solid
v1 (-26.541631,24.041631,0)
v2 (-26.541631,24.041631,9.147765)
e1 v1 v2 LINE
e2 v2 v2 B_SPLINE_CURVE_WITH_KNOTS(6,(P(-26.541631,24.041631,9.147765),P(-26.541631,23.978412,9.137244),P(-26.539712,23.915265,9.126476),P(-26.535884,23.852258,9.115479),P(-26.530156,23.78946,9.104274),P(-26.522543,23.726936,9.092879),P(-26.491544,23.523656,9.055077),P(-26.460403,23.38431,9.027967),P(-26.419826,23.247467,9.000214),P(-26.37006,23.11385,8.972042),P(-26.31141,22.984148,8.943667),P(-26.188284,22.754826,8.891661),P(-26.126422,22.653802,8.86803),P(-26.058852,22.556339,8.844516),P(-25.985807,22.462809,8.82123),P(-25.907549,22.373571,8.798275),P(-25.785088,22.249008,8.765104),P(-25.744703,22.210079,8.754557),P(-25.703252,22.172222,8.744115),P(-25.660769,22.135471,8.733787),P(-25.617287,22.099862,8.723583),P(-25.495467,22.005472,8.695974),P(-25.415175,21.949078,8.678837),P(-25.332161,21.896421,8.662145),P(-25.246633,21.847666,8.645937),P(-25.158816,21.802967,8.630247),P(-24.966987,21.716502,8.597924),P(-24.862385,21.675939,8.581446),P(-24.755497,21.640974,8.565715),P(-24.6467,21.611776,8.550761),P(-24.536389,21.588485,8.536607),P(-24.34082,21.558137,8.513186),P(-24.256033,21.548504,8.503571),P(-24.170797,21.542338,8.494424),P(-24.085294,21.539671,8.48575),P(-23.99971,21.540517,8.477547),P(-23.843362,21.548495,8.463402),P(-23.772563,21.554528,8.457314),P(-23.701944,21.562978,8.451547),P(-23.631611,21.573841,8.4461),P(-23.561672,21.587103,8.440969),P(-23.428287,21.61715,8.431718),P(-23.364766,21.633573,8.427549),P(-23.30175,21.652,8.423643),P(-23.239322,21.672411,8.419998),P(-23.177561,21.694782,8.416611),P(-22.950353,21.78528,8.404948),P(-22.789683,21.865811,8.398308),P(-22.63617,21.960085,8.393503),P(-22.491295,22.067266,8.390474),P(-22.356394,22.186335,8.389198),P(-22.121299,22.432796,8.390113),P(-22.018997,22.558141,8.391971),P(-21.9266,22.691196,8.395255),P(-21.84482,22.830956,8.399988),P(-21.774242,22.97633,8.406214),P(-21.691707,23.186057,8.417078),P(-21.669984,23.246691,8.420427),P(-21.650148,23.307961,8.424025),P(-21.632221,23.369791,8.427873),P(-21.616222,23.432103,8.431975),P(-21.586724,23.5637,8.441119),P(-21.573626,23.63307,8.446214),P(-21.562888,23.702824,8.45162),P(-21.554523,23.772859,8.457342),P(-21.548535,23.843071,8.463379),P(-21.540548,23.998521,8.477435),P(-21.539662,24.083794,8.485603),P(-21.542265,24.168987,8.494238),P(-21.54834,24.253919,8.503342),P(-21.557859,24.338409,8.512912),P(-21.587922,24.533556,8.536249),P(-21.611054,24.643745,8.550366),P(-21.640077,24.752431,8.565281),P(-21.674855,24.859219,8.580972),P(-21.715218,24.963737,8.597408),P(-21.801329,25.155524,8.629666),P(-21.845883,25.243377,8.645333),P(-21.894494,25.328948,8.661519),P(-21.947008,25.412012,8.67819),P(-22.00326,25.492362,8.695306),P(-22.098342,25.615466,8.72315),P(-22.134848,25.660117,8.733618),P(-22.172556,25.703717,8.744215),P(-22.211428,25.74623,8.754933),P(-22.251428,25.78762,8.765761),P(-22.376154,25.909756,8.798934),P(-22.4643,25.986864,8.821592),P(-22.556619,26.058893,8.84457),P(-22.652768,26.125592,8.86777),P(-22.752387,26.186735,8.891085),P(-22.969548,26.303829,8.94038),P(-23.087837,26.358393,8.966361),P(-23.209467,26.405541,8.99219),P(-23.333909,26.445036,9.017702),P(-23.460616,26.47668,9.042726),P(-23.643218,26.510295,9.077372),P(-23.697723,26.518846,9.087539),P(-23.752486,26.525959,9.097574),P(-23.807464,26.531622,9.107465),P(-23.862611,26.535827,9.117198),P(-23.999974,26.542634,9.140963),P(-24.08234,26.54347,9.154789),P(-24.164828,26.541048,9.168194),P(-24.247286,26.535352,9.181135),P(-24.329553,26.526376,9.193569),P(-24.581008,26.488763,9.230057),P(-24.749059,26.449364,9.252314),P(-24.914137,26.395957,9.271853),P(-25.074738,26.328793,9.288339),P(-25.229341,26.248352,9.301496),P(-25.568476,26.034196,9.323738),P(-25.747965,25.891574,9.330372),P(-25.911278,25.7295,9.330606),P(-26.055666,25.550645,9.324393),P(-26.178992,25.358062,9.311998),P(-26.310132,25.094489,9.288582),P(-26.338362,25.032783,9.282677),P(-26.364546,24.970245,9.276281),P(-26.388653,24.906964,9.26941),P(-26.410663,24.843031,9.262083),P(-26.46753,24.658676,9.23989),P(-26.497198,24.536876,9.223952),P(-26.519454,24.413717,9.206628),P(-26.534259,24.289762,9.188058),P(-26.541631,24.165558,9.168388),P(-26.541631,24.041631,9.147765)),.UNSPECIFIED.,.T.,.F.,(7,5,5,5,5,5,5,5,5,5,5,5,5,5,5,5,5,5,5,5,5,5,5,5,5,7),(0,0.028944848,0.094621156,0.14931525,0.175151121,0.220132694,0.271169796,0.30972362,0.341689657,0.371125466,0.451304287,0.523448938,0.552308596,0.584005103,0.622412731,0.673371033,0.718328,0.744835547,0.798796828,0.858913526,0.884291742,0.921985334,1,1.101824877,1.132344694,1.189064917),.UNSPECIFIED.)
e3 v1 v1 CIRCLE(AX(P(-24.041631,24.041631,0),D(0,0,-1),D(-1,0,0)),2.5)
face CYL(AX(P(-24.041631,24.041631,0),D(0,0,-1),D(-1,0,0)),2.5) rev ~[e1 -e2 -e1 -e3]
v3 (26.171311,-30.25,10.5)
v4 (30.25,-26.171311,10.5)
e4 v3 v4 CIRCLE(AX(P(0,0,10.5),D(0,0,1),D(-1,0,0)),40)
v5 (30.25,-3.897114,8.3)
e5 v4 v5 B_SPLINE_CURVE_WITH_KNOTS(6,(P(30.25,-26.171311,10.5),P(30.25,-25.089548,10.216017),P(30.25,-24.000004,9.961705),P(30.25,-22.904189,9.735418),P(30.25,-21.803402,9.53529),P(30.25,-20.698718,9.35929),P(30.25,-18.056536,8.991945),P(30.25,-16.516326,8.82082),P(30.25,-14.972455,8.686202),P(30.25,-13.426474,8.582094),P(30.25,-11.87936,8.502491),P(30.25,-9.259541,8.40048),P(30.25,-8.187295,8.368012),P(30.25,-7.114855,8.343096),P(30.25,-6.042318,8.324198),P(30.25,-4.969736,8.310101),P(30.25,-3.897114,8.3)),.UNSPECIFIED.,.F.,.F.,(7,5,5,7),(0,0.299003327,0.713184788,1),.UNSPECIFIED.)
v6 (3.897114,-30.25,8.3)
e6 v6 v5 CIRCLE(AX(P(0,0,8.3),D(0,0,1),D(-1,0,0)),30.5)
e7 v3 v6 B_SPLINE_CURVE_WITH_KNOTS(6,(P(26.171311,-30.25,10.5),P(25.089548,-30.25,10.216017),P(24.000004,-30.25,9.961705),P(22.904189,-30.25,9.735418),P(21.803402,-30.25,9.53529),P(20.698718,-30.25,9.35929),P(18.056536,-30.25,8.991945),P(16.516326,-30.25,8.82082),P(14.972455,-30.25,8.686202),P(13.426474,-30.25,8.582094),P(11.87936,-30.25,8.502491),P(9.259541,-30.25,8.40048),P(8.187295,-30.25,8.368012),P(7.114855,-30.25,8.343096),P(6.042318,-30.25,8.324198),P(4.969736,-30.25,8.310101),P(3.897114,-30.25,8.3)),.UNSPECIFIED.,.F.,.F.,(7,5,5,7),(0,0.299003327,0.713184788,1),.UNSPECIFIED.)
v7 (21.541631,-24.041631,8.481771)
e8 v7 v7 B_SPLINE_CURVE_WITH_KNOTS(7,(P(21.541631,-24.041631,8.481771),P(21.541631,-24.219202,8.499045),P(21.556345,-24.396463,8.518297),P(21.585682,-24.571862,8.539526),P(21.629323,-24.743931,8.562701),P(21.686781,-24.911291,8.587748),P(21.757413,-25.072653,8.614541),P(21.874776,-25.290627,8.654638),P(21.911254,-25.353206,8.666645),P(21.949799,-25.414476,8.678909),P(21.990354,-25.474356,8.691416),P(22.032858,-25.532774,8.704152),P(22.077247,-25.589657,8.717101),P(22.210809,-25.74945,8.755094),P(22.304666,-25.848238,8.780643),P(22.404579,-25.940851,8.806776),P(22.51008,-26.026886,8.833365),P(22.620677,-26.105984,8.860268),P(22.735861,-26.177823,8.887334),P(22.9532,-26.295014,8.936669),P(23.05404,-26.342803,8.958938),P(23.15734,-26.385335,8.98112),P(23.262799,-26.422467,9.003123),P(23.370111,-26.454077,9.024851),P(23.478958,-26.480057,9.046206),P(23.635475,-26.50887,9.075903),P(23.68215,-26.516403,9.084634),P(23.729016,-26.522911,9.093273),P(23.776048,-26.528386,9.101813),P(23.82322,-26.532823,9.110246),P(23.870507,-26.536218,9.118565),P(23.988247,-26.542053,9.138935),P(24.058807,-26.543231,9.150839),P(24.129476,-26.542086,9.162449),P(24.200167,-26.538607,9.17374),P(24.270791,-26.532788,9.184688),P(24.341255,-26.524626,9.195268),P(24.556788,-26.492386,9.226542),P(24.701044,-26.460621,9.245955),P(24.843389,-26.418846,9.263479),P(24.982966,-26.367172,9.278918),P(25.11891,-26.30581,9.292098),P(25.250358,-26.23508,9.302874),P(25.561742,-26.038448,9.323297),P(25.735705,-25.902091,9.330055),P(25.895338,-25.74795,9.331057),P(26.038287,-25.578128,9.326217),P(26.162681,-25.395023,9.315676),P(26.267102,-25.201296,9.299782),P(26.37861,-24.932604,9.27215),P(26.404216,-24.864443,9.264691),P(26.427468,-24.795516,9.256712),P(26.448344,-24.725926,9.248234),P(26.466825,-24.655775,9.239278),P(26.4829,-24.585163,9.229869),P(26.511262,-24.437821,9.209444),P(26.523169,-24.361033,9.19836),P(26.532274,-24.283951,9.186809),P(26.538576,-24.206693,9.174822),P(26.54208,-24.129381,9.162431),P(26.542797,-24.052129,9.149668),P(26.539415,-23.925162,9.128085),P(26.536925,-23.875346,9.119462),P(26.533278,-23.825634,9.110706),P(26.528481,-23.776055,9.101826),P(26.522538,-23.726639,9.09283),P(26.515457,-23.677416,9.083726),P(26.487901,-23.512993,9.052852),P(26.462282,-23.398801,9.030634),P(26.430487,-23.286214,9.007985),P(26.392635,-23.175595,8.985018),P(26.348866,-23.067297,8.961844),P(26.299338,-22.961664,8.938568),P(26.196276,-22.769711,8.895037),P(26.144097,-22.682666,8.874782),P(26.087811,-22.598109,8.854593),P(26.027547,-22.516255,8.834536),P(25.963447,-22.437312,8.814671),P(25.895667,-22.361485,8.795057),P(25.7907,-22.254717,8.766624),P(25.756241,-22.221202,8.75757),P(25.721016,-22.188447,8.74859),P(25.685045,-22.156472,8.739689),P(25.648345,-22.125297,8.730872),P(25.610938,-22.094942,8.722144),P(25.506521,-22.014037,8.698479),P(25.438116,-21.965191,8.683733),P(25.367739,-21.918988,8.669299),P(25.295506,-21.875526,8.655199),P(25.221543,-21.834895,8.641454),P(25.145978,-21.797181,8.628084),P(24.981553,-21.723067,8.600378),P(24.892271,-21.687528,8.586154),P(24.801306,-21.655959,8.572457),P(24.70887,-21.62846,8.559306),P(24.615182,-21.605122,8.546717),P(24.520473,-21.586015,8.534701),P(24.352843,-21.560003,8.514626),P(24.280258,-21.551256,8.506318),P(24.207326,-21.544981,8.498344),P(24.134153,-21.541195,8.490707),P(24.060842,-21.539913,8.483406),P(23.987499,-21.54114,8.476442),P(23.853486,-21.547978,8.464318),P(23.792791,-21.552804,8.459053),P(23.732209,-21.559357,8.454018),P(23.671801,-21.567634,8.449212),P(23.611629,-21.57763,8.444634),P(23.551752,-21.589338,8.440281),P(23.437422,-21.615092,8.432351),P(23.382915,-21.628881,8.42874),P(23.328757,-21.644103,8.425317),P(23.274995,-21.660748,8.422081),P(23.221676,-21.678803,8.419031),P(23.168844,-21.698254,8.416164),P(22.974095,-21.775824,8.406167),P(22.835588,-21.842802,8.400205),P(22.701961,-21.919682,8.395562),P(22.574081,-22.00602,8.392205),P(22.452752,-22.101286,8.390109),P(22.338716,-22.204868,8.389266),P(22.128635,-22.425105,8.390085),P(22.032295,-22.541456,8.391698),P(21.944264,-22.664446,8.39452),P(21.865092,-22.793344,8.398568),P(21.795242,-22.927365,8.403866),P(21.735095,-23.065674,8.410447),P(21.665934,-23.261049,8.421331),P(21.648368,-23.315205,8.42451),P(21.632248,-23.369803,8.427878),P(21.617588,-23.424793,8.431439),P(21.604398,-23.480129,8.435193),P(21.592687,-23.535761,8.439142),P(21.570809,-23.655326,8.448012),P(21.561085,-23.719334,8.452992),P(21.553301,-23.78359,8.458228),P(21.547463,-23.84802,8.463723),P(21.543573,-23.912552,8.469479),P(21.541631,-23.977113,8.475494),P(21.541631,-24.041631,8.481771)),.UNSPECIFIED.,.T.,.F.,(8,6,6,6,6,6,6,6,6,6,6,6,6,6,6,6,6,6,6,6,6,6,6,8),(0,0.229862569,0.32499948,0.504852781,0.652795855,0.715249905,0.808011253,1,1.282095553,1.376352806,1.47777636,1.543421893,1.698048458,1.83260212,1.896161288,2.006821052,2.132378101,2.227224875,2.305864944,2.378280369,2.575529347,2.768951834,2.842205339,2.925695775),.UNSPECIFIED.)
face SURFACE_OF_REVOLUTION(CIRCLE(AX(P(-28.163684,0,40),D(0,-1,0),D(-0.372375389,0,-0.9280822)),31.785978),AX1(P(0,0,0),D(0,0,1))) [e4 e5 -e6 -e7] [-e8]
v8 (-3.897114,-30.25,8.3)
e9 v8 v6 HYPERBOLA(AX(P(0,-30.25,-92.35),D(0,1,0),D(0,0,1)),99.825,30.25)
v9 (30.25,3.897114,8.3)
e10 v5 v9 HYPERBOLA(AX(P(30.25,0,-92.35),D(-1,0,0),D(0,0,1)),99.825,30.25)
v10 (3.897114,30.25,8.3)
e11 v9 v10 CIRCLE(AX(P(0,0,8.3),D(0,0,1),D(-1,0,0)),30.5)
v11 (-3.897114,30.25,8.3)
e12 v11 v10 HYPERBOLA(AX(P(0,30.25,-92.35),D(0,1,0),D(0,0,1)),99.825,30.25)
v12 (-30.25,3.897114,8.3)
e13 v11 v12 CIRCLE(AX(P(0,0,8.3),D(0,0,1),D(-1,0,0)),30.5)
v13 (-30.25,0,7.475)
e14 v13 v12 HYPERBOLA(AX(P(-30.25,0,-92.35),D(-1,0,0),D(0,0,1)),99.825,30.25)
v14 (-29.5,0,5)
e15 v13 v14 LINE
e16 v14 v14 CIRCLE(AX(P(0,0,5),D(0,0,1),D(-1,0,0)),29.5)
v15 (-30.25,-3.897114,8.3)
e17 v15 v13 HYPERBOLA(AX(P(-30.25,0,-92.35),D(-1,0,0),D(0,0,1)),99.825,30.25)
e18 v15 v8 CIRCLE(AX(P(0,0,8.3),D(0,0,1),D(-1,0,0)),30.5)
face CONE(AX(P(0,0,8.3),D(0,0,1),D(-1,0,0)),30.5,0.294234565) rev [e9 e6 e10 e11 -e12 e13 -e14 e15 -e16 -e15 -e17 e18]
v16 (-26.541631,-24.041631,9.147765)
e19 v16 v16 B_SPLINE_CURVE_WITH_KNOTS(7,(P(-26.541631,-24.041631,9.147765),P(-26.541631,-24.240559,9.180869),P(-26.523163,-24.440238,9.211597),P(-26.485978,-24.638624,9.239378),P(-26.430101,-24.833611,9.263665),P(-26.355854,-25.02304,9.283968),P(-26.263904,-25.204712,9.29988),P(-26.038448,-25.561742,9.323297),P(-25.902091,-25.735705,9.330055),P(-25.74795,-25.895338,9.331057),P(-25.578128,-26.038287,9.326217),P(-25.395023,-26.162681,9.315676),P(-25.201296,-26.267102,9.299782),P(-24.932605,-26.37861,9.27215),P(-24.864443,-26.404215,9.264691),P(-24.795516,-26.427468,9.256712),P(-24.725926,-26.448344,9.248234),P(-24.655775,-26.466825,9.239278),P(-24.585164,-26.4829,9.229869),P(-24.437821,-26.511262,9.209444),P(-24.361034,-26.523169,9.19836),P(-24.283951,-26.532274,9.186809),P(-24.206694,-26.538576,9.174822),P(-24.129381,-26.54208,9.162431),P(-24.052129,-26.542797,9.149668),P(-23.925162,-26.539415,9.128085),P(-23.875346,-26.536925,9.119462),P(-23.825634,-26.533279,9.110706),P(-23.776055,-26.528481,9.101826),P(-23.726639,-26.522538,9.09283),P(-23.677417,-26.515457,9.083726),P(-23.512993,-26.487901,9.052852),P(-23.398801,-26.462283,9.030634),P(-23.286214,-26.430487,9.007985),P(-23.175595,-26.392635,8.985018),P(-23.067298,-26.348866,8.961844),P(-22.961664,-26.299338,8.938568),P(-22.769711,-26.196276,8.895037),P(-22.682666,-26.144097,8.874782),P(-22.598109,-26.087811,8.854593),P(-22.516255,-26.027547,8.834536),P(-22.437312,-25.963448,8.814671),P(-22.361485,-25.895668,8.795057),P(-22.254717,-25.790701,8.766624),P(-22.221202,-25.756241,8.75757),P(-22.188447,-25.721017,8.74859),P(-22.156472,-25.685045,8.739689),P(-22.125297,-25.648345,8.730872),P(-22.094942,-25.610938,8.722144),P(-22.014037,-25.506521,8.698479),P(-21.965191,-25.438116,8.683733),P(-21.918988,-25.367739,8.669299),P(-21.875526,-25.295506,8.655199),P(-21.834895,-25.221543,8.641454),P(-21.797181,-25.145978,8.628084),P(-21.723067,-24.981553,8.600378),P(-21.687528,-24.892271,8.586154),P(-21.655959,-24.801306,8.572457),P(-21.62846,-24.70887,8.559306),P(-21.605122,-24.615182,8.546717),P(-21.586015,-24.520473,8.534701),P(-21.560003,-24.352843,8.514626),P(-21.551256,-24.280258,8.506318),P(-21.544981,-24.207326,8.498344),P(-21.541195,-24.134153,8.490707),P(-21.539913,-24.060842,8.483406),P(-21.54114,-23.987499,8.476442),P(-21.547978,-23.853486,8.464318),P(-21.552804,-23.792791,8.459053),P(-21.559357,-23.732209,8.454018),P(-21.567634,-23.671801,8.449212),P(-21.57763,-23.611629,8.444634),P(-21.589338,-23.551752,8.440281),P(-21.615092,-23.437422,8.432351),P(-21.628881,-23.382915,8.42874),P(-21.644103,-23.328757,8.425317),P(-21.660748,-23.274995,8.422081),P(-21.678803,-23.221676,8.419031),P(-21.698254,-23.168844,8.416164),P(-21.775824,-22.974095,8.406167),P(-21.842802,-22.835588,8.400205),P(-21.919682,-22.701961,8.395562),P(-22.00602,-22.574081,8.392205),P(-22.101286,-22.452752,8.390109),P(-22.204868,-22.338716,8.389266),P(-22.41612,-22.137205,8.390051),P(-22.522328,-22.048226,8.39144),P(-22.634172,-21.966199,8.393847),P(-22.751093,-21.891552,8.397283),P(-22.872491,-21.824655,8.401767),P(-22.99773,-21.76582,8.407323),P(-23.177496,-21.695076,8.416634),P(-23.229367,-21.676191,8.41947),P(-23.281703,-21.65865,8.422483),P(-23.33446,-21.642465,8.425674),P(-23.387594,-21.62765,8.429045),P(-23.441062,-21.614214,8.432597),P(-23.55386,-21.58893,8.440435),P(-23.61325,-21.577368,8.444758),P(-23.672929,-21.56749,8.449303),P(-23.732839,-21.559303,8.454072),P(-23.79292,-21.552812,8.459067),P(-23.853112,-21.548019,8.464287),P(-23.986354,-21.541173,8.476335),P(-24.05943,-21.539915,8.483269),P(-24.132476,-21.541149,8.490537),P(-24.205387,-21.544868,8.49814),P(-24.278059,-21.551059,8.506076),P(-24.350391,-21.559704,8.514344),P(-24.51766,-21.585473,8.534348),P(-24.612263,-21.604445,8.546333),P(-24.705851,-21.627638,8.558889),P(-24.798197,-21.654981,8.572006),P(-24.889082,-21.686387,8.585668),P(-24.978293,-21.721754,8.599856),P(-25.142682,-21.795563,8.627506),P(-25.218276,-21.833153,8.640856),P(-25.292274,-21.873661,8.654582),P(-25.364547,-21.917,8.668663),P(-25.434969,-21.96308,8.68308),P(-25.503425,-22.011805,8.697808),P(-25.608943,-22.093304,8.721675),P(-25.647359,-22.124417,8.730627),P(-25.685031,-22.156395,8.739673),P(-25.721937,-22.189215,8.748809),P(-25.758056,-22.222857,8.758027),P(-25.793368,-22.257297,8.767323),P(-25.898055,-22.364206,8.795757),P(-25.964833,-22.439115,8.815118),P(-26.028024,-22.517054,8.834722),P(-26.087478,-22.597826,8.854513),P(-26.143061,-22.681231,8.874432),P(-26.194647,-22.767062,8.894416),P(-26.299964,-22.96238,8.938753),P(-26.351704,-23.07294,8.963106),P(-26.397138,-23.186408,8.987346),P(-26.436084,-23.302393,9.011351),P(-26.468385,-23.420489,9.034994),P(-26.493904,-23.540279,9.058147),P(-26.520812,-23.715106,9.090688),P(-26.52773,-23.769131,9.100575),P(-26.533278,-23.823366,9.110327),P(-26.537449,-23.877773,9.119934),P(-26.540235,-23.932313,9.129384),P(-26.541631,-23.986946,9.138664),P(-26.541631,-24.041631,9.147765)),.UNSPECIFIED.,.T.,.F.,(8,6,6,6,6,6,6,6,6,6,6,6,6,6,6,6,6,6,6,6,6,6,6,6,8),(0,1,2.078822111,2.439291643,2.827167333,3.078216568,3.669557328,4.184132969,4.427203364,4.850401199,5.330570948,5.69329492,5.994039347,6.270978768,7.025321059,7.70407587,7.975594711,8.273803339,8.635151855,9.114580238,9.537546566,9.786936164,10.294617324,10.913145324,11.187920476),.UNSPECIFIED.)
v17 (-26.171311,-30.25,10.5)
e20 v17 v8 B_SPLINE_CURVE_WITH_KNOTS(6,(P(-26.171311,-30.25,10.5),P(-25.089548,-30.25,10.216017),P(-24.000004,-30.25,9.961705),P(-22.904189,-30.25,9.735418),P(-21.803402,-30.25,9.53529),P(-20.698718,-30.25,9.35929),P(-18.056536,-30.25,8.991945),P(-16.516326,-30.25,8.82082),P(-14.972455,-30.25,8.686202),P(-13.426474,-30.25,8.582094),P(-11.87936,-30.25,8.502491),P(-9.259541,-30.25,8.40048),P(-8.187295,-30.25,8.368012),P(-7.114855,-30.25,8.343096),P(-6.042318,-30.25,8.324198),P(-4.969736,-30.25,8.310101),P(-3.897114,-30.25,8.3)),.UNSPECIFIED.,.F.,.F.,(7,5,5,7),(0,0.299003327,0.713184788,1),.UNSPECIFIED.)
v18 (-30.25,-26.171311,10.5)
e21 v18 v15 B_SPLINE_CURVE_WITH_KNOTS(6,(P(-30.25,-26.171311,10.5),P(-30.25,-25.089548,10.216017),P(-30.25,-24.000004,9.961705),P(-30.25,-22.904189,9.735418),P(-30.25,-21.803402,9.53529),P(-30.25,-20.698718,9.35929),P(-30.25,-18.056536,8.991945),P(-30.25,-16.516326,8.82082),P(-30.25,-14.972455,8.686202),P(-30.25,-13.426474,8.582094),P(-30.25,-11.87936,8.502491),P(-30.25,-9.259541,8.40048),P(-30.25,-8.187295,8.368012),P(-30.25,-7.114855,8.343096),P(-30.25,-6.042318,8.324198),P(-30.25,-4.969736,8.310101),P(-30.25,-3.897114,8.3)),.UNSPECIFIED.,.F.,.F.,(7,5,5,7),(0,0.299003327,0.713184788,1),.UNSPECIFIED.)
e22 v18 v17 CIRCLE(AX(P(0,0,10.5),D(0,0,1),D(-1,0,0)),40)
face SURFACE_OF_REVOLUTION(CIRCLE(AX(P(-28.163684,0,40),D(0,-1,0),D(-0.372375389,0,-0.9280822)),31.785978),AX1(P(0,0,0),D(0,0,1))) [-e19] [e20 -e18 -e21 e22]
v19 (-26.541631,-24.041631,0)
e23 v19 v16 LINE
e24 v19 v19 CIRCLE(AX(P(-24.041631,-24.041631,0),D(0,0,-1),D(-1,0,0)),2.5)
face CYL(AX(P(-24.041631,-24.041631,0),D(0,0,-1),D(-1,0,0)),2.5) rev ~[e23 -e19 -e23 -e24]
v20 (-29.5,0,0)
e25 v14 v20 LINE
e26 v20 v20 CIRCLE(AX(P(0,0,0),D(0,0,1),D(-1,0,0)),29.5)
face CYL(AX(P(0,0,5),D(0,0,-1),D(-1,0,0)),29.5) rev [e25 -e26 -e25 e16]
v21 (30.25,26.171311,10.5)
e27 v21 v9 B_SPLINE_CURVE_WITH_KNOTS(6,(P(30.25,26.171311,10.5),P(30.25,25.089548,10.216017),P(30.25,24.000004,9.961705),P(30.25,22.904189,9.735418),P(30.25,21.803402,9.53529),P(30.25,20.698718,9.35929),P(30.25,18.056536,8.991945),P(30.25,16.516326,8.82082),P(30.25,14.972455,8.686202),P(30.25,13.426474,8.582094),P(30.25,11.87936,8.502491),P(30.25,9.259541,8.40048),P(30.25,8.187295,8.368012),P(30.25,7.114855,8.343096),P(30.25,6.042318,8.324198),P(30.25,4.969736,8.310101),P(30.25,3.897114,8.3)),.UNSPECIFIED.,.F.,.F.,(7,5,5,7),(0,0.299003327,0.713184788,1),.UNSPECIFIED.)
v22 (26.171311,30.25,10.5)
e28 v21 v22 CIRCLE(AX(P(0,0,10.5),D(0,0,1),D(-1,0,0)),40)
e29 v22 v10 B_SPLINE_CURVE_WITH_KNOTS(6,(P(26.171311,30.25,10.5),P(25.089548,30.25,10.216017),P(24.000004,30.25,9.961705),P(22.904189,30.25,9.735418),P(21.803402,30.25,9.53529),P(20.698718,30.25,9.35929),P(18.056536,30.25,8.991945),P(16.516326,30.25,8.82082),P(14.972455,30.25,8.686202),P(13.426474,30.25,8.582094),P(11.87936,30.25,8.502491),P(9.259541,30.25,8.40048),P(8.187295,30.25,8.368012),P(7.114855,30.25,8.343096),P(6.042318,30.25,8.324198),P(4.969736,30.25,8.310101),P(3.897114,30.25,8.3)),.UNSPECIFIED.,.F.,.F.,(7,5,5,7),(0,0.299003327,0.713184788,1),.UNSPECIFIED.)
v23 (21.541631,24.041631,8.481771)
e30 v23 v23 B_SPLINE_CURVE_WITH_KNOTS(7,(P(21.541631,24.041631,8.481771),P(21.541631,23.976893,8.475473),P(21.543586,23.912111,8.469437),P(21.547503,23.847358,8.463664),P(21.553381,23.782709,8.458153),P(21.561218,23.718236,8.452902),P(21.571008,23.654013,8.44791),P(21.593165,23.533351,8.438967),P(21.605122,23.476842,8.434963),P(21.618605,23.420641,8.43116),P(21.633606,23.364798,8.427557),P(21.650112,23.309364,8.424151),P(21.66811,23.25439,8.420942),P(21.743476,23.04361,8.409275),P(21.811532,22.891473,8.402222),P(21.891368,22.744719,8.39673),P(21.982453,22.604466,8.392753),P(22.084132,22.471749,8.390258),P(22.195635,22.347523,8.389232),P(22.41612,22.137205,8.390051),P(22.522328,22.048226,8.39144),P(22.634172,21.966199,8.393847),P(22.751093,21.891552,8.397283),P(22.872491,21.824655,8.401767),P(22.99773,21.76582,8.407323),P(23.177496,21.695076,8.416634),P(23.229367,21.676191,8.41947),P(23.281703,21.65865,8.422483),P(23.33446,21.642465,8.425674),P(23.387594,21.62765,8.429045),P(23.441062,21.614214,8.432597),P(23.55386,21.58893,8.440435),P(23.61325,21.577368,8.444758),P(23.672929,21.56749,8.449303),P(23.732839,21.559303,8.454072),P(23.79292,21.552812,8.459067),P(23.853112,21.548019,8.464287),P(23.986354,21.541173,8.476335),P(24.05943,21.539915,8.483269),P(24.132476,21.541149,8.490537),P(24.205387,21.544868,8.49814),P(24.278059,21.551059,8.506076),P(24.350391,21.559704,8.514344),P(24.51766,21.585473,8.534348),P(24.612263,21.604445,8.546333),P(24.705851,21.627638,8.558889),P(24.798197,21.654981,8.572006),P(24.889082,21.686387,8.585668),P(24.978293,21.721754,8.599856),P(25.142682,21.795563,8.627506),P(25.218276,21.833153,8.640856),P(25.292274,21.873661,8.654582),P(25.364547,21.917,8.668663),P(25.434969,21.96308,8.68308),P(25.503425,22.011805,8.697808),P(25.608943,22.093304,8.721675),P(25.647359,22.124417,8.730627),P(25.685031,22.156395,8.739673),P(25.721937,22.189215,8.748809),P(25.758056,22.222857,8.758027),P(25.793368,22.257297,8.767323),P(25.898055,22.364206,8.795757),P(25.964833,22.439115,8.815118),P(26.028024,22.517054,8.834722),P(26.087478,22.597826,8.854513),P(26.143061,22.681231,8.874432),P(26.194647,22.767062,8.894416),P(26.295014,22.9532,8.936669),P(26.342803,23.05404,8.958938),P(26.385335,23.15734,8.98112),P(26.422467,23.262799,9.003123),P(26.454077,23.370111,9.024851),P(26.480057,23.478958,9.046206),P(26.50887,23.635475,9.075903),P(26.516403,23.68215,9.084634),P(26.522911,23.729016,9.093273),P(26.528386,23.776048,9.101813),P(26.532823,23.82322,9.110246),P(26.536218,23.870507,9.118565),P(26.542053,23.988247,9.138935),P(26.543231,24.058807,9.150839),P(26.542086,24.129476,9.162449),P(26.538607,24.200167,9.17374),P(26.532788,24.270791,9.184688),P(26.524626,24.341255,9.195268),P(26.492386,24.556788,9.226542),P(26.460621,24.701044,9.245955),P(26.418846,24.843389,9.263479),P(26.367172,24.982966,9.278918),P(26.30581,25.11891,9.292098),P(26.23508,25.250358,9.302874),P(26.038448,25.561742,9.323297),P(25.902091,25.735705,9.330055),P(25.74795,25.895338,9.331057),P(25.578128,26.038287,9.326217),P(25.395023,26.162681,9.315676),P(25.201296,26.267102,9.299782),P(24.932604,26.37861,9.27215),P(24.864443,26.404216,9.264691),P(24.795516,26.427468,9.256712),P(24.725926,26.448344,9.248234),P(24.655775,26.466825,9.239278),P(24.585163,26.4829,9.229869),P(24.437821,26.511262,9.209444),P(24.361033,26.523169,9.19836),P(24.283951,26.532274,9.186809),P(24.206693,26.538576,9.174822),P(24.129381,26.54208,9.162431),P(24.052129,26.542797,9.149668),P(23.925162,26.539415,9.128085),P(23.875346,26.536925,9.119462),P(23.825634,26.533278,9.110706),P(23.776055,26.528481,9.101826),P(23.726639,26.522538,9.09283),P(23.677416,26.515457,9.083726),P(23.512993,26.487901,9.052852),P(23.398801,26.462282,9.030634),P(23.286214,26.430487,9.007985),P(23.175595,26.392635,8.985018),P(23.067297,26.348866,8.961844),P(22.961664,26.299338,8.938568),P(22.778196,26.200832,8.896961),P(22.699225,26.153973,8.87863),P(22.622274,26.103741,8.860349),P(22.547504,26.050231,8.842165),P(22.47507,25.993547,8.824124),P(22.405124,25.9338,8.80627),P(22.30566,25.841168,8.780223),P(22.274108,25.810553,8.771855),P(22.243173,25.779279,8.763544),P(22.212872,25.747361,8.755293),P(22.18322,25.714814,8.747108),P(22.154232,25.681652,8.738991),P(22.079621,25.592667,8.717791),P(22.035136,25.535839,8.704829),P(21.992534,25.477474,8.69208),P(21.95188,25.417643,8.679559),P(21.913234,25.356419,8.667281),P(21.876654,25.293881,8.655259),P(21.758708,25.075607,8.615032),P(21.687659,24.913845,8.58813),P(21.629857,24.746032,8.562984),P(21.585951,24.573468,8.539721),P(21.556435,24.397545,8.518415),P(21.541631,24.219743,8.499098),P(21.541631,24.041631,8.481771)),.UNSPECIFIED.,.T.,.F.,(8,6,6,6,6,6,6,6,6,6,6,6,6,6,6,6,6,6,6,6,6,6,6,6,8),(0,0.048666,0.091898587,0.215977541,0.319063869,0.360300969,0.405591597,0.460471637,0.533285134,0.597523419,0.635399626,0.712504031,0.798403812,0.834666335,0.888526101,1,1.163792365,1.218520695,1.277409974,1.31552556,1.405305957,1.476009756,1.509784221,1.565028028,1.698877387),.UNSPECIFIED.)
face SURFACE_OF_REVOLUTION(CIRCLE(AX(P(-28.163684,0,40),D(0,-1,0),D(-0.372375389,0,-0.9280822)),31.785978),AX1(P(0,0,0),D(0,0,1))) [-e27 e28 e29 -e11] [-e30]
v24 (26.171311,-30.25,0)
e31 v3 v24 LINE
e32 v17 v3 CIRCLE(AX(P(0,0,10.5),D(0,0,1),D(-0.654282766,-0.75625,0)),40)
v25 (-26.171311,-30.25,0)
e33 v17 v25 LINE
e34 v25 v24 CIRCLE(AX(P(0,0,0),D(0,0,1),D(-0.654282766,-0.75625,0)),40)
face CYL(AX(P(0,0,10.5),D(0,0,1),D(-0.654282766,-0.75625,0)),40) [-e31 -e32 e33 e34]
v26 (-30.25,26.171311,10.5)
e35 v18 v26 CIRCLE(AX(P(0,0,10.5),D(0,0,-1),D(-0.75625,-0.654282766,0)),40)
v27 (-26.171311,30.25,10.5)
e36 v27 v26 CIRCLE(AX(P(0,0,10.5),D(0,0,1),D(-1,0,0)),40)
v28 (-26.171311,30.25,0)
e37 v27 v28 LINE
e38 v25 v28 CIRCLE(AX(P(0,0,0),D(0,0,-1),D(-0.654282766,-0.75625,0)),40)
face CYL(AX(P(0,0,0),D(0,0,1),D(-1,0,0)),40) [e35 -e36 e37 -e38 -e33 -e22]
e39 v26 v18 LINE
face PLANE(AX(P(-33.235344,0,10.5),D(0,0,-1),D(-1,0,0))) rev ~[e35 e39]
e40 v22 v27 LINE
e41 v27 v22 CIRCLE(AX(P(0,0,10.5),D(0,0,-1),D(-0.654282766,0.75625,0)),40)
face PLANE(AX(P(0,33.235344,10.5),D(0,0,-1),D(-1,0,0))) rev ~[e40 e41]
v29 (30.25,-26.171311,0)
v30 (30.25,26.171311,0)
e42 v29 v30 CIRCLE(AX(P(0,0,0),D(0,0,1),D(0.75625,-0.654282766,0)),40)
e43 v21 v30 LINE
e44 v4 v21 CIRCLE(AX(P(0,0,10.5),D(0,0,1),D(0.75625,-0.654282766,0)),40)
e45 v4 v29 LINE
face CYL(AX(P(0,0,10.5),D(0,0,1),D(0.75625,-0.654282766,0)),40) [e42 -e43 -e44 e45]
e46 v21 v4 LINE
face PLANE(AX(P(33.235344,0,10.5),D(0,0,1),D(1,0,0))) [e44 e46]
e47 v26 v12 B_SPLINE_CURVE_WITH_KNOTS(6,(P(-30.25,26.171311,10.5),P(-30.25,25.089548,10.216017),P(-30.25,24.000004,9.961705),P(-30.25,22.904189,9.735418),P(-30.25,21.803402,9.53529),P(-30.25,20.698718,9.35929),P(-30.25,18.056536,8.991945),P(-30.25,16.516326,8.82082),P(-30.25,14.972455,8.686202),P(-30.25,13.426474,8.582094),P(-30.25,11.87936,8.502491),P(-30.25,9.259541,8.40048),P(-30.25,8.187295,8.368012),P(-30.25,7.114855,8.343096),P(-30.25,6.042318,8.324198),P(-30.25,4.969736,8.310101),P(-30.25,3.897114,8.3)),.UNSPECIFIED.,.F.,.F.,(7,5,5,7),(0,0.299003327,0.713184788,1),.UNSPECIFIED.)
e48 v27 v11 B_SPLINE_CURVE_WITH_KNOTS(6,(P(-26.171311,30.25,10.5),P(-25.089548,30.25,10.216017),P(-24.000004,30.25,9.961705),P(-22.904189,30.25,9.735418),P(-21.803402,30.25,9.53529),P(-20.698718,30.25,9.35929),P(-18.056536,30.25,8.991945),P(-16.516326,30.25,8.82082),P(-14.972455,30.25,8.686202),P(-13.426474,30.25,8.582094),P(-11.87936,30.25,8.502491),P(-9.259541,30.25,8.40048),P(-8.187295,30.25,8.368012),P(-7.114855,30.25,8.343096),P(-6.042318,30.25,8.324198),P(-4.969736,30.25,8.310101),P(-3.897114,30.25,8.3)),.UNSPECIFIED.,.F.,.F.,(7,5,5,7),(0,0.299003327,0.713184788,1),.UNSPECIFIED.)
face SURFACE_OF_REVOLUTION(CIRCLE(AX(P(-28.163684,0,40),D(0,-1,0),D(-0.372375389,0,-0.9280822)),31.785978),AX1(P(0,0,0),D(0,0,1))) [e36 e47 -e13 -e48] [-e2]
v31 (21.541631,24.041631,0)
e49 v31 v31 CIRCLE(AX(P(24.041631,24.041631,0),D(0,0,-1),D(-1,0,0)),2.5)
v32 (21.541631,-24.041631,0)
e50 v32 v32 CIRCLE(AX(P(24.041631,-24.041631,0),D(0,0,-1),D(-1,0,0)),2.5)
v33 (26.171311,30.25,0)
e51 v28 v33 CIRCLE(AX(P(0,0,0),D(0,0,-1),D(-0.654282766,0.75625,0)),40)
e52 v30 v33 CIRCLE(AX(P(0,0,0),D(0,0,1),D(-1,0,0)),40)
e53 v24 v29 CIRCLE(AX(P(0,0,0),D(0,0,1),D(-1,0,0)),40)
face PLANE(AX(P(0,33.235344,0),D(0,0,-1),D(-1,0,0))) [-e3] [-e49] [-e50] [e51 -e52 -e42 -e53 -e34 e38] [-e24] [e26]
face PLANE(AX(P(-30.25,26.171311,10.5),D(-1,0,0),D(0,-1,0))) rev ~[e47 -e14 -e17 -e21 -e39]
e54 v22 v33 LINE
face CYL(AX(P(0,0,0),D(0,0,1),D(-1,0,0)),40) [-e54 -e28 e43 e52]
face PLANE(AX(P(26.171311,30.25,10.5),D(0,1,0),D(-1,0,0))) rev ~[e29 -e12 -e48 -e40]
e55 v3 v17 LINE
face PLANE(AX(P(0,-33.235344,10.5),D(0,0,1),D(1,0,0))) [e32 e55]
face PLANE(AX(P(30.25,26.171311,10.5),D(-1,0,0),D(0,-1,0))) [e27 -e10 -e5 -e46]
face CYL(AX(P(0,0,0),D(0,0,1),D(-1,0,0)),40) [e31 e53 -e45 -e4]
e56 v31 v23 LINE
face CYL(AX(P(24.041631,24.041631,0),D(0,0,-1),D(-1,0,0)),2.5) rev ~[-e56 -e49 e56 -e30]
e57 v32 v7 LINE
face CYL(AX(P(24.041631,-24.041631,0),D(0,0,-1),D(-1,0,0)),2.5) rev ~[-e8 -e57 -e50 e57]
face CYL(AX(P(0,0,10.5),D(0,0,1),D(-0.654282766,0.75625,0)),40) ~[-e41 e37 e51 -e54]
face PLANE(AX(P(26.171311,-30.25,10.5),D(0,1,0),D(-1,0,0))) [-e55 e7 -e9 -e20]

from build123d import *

# Parameters (mm, degrees)
SKETCH2_R           = 2.5
CUT_EXTRUDE2_DEPTH  = 58.534772252
BOSS_EXTRUDE1_START = -10.5
BOSS_EXTRUDE1_DEPTH = 10.5


with BuildPart() as part:
    # Sketch1 → Revolve1 (revolve)
    with BuildSketch(Plane(origin=(0, 0, 0), x_dir=(1, 0, 0), z_dir=(0, 1, 0)), mode=Mode.PRIVATE) as revolve1_sk:
        with BuildLine():
            Line((29.5, 0), (40, 0))
            Line((40, 0), (40, -10.5))
            ThreePointArc((40, -10.5), (35.334867618, -9.033526194), (30.5, -8.3))
            Line((30.5, -8.3), (29.5, -5))
            Line((29.5, -5), (29.5, 0))
        make_face()
    revolve(revolve1_sk.sketch.rotate(Axis((0, 0, 0), (0, 0, 1)), 180), axis=Axis((0, 0, 0), (0, 0, 1)))

    # Sketch2 → Cut-Extrude2 (cut, through all)
    with BuildSketch(Plane(origin=(0, 0, 0), x_dir=(-1, 0, 0), z_dir=(0, 0, -1))):
        with Locations((24.04163056, 24.04163056)):
            Circle(SKETCH2_R)
        with Locations((24.04163056, -24.04163056)):
            Circle(SKETCH2_R)
        with Locations((-24.04163056, -24.04163056)):
            Circle(SKETCH2_R)
        with Locations((-24.04163056, 24.04163056)):
            Circle(SKETCH2_R)
    extrude(amount=-CUT_EXTRUDE2_DEPTH, mode=Mode.SUBTRACT)

    # Sketch4 → Boss-Extrude1 (add)
    with BuildSketch(Plane(origin=(0, 0, 0), x_dir=(-1, 0, 0), z_dir=(0, 0, -1)).offset(BOSS_EXTRUDE1_START)):
        with BuildLine():
            Line((-26.171310628, 30.25), (26.171310628, 30.25))
            ThreePointArc((26.171310628, 30.25), (0, 40), (-26.171310628, 30.25))
        make_face()
        with BuildLine():
            Line((-30.25, 26.171310628), (-30.25, -26.171310628))
            ThreePointArc((-30.25, -26.171310628), (-40, 0), (-30.25, 26.171310628))
        make_face()
        with BuildLine():
            Line((-26.171310628, -30.25), (26.171310628, -30.25))
            ThreePointArc((26.171310628, -30.25), (0, -40), (-26.171310628, -30.25))
        make_face()
        with BuildLine():
            Line((30.25, 26.171310628), (30.25, -26.171310628))
            ThreePointArc((30.25, -26.171310628), (40, 0), (30.25, 26.171310628))
        make_face()
    extrude(amount=BOSS_EXTRUDE1_DEPTH)


solid = part.part
